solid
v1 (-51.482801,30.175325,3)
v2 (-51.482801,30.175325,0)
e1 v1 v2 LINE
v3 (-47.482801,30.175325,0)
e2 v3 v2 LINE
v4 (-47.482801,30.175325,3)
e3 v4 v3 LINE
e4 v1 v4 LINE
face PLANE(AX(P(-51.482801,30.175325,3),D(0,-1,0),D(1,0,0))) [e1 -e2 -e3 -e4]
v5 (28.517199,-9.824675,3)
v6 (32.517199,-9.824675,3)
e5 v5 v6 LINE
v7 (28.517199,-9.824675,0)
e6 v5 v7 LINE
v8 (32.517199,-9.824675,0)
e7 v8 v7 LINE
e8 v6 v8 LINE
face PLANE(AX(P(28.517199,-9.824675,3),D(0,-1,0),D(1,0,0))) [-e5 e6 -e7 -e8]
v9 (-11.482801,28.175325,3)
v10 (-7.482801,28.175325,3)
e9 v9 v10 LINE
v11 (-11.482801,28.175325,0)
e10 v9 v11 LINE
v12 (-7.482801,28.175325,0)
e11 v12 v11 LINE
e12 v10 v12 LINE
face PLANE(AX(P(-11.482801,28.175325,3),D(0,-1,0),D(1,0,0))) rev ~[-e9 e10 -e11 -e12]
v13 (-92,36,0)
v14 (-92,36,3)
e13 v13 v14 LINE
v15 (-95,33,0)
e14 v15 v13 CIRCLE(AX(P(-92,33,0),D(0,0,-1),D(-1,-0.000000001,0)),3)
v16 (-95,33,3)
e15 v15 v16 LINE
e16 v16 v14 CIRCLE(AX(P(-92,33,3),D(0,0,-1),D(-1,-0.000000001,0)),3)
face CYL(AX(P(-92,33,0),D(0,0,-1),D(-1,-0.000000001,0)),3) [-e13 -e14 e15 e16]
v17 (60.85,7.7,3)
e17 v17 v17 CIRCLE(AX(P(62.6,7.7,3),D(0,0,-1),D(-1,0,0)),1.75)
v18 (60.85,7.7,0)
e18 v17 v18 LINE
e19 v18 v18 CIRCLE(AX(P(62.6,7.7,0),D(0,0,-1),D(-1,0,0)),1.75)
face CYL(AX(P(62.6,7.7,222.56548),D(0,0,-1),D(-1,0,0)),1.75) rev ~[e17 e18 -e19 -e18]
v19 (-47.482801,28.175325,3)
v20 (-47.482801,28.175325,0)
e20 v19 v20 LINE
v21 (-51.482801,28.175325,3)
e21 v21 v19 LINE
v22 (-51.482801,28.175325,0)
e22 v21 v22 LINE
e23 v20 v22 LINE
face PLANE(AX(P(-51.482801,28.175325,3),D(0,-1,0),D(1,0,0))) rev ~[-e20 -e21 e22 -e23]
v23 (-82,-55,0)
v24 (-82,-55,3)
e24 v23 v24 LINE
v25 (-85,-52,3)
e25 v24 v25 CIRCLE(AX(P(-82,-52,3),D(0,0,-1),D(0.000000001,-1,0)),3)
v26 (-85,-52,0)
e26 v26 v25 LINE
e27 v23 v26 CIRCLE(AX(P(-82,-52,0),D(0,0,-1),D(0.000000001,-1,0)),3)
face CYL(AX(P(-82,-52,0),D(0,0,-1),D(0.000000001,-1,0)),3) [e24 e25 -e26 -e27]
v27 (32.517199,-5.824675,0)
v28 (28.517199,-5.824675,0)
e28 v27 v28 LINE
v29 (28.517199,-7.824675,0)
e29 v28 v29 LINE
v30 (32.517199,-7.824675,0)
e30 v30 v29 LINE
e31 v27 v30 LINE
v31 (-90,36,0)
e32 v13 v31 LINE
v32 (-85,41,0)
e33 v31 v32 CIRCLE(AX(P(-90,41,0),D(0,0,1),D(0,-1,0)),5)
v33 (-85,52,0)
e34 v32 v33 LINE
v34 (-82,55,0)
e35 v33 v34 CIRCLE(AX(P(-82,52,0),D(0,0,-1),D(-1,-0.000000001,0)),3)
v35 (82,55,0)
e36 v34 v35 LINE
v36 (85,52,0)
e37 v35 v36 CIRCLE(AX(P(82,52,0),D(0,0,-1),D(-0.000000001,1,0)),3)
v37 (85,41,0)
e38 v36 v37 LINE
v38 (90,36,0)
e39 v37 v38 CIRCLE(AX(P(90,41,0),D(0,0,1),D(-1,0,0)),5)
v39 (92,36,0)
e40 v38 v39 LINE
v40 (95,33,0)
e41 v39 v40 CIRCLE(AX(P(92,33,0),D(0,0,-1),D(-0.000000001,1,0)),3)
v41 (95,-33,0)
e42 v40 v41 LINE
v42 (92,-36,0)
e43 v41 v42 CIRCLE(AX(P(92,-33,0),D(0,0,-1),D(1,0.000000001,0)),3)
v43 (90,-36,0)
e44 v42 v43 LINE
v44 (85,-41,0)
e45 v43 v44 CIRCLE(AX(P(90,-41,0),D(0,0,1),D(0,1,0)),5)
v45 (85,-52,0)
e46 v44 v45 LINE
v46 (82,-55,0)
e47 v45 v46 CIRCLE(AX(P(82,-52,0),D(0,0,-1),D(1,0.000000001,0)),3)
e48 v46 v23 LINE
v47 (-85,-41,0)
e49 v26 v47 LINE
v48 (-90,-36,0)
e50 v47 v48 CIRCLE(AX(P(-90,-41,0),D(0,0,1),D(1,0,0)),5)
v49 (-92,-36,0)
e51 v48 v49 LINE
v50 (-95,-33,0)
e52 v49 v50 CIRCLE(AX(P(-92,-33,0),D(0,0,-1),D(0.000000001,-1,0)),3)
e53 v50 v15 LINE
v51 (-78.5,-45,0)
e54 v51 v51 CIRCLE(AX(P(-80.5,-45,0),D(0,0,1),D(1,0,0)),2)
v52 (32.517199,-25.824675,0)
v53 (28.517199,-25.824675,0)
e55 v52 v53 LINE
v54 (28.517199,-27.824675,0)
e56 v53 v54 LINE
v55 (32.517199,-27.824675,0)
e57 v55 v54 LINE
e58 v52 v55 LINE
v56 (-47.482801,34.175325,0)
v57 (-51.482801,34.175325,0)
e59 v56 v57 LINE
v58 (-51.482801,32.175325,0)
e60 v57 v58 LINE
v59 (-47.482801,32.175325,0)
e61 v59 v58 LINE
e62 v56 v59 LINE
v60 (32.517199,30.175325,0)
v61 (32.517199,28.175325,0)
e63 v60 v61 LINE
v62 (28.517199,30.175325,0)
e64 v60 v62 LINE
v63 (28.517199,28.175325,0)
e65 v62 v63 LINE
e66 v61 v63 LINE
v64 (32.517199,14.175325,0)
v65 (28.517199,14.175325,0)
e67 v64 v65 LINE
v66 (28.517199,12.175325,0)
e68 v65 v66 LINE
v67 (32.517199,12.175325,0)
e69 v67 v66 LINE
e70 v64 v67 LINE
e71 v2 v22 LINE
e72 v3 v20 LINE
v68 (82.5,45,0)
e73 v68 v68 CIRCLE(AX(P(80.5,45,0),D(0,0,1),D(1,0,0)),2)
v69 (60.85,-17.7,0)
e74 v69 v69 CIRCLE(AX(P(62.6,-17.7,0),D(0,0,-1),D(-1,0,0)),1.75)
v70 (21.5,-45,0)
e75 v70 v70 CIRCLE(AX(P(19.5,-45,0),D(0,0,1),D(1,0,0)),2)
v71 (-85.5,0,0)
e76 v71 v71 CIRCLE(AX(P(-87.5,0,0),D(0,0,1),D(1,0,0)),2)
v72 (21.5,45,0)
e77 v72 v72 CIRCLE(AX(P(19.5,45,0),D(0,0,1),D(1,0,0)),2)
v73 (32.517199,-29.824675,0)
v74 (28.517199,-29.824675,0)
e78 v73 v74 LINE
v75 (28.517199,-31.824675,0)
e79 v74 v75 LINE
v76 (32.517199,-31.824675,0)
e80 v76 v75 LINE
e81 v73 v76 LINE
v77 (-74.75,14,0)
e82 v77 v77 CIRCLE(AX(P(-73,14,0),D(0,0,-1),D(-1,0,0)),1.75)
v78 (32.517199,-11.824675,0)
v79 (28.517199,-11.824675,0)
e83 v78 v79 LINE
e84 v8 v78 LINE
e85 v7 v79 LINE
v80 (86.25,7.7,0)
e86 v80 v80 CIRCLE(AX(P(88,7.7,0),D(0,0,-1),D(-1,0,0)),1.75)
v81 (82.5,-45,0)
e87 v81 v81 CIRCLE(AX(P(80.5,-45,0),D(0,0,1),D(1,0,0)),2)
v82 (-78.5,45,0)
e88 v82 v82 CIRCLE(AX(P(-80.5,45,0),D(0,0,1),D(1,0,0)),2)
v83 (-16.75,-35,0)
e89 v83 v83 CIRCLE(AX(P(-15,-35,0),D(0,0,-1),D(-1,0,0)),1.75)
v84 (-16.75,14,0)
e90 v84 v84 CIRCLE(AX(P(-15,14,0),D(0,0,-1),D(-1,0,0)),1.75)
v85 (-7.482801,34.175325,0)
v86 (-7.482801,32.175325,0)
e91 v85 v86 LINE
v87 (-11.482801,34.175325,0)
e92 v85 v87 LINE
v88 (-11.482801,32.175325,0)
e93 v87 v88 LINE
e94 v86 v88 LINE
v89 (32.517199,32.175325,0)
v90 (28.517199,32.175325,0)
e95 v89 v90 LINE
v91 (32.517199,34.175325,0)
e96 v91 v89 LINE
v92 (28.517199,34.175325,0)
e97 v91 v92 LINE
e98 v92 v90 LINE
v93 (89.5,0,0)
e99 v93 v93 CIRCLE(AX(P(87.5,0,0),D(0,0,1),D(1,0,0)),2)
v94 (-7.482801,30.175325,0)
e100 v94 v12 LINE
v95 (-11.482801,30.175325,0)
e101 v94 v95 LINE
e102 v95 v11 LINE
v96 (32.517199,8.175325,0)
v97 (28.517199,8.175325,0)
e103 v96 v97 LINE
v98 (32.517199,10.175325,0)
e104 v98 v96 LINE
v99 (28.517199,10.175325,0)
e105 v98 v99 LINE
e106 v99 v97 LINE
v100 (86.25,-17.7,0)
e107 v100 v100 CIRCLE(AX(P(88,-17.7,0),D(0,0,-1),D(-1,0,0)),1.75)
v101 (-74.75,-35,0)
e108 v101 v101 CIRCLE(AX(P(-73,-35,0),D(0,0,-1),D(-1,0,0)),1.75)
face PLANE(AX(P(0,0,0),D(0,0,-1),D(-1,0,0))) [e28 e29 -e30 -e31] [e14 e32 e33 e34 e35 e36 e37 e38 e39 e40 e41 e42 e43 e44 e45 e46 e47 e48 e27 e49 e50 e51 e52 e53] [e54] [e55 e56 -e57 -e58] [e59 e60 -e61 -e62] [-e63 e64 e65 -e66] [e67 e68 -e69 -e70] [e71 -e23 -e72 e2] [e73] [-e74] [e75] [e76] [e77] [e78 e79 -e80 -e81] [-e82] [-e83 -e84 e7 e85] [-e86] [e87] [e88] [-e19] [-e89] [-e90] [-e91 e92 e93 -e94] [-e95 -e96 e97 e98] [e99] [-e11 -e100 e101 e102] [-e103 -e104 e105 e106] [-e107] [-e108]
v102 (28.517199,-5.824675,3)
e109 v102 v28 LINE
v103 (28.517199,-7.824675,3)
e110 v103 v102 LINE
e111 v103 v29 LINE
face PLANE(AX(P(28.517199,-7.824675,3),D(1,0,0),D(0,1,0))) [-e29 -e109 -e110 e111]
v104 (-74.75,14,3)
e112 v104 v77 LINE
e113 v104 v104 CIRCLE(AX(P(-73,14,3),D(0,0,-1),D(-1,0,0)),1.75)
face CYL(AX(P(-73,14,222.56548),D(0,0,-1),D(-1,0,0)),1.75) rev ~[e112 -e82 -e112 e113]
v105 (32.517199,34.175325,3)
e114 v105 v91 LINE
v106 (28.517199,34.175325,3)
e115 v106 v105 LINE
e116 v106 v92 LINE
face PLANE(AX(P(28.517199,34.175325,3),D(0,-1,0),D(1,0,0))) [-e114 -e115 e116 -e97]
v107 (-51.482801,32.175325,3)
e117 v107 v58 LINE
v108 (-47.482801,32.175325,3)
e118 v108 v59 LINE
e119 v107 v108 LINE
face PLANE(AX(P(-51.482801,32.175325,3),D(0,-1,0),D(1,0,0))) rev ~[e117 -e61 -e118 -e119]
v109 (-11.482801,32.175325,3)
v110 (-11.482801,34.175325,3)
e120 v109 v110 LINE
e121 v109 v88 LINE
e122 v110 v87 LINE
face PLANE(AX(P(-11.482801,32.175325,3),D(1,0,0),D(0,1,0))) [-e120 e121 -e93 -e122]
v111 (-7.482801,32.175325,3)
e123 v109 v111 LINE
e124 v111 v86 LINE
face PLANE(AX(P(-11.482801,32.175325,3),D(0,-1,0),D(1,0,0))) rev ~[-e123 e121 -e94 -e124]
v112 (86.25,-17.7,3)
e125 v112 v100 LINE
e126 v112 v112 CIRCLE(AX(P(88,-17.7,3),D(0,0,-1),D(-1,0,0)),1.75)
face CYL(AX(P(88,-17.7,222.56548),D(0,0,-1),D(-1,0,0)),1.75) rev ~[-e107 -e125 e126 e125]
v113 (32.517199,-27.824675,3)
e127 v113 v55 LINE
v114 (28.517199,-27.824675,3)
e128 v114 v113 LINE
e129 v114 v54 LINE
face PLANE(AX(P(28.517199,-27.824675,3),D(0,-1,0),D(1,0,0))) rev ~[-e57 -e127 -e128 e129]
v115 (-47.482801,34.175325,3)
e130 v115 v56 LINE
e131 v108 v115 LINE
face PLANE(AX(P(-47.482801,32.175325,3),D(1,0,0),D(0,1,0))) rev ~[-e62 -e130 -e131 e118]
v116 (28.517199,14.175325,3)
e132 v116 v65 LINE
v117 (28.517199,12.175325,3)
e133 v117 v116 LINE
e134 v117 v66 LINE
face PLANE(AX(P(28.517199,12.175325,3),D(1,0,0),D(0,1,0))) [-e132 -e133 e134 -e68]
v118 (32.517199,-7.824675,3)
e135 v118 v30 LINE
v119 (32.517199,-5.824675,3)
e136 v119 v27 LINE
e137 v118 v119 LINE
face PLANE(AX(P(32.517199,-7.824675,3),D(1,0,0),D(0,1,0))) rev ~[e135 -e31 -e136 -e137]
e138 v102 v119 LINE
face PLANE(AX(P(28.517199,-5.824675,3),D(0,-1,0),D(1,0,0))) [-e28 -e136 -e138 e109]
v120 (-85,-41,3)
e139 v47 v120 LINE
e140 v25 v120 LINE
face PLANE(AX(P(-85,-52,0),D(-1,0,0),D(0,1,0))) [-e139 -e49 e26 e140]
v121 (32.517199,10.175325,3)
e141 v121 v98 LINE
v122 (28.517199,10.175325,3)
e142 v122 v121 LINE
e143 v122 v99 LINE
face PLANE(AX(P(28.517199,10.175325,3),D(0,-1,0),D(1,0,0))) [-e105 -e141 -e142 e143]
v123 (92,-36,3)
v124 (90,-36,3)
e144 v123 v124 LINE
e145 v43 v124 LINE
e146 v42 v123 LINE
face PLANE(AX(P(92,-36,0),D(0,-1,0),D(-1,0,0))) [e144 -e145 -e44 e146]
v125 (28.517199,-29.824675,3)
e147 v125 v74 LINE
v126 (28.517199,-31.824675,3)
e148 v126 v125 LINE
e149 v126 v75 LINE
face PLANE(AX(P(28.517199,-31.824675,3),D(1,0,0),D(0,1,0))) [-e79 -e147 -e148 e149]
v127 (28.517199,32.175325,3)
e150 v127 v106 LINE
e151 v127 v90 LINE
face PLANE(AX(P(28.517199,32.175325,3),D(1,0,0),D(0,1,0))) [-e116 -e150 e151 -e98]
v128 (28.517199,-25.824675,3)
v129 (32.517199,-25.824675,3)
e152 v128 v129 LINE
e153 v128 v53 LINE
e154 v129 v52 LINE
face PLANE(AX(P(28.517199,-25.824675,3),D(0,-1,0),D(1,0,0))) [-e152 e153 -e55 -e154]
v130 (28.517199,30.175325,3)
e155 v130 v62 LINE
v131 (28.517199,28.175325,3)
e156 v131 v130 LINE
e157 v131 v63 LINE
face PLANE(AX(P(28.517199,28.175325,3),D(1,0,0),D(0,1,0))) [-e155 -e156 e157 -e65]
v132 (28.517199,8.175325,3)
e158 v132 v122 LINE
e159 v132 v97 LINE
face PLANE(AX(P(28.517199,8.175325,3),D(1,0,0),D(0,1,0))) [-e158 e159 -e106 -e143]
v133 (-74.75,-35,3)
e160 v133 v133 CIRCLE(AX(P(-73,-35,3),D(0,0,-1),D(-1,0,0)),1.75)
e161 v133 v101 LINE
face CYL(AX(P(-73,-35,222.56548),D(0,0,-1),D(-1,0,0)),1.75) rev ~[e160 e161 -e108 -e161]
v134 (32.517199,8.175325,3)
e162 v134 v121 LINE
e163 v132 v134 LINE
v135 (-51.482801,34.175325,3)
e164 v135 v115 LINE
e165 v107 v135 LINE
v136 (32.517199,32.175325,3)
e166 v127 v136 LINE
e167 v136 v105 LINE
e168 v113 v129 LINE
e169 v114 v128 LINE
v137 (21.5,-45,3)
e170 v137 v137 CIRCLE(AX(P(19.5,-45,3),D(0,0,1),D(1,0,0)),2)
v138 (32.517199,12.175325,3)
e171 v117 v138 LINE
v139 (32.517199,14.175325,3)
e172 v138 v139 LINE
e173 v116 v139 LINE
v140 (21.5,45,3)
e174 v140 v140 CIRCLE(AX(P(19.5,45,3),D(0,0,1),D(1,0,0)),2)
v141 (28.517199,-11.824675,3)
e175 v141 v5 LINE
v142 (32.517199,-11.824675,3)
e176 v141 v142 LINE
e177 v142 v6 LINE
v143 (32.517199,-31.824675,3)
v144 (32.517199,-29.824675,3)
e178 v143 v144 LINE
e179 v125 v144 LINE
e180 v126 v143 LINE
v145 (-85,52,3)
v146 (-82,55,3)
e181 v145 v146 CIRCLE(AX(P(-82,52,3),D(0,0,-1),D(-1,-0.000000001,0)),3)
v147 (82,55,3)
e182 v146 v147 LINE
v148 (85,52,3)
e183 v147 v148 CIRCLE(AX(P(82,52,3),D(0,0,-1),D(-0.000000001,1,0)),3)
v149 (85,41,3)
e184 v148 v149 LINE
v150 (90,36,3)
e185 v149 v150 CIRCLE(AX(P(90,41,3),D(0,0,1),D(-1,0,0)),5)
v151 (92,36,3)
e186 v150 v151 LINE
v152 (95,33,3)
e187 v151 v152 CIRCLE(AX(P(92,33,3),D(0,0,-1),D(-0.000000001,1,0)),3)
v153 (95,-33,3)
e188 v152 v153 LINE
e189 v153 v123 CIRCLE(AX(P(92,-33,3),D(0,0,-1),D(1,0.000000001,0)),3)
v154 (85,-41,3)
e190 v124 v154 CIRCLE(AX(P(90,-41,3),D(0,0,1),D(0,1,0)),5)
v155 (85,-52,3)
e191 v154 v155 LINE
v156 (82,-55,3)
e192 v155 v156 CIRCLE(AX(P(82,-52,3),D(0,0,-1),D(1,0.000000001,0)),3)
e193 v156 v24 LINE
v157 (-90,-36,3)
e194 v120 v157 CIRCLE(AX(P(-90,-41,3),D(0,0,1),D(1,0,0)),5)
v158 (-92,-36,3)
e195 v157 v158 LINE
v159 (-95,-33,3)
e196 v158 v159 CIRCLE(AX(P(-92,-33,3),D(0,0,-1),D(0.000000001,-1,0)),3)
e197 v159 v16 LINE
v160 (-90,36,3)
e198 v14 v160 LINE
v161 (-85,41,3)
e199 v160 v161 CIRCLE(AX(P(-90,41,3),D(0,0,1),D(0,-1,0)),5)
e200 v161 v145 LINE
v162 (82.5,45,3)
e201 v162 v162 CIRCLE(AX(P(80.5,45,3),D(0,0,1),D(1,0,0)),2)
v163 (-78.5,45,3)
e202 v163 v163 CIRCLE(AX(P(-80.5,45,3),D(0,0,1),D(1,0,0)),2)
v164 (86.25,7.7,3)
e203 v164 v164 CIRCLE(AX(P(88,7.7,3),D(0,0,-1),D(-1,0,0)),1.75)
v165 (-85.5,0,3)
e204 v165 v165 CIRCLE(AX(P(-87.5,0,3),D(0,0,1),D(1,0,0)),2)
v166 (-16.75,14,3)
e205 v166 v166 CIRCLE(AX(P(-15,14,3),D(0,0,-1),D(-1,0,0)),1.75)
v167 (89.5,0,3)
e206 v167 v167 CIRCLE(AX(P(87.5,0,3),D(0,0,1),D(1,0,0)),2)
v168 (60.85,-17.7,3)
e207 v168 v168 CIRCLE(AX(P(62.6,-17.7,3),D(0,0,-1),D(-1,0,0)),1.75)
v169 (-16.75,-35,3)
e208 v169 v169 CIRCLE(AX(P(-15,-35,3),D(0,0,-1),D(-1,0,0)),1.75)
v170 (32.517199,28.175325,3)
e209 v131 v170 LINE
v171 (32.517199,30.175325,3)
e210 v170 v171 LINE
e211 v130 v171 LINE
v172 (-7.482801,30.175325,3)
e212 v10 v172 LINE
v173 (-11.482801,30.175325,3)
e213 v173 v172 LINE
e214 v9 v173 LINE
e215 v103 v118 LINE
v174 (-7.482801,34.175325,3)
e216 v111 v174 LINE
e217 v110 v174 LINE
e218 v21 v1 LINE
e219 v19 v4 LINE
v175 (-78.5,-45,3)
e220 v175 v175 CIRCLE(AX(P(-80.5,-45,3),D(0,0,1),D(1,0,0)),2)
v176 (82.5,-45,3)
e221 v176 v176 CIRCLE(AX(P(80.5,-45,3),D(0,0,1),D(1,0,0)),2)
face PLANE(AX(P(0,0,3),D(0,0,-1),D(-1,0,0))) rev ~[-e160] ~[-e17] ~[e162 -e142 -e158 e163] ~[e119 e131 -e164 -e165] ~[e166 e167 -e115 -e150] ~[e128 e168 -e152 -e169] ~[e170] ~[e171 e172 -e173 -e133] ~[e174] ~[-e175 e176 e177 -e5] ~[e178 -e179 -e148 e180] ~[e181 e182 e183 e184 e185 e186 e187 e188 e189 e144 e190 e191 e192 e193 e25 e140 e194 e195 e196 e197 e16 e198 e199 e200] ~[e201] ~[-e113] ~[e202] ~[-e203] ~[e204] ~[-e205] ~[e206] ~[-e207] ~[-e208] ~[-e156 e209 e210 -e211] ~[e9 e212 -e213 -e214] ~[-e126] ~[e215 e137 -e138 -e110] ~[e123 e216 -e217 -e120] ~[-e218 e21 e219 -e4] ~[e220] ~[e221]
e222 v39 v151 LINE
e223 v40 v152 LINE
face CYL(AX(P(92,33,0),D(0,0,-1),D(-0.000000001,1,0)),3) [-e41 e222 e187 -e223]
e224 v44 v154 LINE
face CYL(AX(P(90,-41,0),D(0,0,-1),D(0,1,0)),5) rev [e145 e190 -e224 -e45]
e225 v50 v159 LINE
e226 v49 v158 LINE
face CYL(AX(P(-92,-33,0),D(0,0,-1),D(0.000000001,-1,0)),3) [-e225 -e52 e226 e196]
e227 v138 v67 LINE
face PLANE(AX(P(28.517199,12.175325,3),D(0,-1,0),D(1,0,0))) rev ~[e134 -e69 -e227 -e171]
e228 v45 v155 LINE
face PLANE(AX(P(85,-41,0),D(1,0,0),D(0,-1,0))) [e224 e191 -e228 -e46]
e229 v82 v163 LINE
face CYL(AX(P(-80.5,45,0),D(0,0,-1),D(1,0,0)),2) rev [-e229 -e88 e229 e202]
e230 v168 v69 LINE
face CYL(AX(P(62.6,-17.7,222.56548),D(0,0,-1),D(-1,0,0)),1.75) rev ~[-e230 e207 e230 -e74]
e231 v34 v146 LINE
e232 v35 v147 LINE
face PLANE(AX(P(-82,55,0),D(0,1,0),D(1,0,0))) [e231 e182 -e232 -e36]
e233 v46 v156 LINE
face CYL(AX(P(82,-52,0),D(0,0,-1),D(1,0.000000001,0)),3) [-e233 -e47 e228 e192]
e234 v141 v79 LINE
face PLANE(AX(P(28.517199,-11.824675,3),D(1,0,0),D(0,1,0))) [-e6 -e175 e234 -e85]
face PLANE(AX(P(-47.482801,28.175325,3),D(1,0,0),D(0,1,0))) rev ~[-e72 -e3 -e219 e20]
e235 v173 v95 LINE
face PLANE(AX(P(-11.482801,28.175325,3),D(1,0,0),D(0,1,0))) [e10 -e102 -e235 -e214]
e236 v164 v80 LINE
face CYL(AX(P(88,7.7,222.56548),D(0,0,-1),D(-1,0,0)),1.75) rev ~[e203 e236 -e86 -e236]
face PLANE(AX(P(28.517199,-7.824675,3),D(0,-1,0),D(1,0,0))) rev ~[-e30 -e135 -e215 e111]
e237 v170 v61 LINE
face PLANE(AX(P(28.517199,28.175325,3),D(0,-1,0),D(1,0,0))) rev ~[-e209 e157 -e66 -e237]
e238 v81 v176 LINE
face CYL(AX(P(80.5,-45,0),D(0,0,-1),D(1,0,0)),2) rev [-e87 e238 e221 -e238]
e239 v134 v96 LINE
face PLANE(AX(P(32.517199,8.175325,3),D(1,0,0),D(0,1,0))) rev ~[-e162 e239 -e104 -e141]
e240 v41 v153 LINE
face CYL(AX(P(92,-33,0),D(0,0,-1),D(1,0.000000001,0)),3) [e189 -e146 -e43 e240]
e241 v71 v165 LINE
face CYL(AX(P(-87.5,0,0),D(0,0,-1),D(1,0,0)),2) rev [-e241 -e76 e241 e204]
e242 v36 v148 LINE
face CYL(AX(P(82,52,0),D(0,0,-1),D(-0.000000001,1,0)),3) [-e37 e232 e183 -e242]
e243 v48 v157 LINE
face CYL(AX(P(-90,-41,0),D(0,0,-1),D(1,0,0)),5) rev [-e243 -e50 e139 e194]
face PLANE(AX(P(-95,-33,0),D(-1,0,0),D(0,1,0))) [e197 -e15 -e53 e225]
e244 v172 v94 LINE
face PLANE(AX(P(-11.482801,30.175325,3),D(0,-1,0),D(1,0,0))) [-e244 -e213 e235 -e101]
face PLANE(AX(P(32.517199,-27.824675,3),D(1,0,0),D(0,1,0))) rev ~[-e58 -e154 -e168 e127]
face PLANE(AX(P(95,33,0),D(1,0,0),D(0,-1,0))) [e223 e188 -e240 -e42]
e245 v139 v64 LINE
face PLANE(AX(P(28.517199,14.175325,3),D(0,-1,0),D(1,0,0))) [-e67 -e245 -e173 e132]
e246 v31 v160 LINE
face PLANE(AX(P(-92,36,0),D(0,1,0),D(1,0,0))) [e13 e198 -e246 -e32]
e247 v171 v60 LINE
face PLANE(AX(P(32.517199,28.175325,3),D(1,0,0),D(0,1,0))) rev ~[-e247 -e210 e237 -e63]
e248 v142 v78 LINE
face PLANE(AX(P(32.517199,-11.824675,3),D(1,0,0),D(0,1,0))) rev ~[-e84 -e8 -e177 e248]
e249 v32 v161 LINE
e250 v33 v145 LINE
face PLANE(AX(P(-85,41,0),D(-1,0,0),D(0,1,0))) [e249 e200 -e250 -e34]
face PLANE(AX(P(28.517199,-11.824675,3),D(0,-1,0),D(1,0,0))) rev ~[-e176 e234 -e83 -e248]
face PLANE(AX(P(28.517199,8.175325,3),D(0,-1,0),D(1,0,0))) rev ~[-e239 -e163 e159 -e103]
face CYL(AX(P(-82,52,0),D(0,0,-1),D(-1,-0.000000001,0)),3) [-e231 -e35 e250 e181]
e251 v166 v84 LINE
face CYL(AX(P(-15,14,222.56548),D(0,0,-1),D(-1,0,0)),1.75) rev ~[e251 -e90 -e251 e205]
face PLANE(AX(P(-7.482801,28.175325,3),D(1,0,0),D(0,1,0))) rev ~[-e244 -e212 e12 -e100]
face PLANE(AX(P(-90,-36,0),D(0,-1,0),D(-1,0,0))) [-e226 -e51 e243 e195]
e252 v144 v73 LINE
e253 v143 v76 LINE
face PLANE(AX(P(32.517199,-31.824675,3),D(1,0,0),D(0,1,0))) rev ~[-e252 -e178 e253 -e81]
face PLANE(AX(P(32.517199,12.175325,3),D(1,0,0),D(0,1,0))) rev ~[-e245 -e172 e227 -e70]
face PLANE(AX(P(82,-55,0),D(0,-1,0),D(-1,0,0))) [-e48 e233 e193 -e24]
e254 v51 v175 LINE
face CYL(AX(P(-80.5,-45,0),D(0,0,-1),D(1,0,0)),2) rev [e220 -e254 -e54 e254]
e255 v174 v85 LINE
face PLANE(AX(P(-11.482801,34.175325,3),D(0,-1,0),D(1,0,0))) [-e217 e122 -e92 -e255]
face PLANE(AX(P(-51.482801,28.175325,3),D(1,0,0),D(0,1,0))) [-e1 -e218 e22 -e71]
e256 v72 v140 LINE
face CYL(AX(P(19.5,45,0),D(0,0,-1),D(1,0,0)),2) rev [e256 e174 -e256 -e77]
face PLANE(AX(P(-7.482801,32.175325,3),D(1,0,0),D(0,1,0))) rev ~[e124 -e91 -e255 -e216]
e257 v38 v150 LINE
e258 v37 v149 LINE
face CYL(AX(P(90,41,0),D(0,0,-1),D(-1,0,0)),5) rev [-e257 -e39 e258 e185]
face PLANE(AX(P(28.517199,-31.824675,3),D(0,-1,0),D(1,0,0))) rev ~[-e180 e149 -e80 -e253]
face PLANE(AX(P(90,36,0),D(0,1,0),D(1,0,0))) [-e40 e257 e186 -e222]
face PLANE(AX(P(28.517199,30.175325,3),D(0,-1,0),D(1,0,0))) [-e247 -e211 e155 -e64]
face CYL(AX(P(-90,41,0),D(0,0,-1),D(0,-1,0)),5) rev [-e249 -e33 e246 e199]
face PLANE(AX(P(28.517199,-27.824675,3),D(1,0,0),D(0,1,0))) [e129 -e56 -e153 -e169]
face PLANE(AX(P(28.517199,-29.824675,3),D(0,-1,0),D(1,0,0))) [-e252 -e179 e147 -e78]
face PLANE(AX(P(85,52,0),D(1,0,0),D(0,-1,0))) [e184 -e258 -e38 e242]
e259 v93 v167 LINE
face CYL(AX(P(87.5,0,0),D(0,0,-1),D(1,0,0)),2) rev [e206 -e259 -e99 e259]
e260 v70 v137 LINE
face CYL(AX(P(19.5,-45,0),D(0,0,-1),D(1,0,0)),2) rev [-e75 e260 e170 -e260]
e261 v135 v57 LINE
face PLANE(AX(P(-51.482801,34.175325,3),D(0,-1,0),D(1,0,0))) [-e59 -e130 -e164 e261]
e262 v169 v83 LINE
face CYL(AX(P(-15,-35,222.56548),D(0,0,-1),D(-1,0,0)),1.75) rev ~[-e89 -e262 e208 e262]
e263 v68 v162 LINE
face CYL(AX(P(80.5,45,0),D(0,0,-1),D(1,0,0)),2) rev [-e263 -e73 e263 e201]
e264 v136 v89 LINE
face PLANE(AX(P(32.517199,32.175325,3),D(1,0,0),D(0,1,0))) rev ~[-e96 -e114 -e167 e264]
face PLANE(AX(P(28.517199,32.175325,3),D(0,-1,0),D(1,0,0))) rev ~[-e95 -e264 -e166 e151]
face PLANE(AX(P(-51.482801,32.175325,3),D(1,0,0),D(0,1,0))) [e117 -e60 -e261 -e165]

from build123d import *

# Parameters (mm, degrees)
SKETCH1_R                  = 2
BOSS_EXTRUDE1_DEPTH        = 3
F_3_5_3_5_DIAMETER_HOLE1_D = 3.5
SKETCH4_W                  = 4
SKETCH4_H                  = 2
CUT_EXTRUDE1_DEPTH         = 110.813478226


with BuildPart() as part:
    # Sketch1 → Boss-Extrude1 (new body)
    with BuildSketch(Plane.XY):
        with BuildLine():
            Line((-82, 55), (82, 55))
            ThreePointArc((82, 55), (84.121320344, 54.121320344), (85, 52))
            Line((85, 52), (85, 41))
            ThreePointArc((85, 41), (86.464466094, 37.464466094), (90, 36))
            Line((90, 36), (92, 36))
            ThreePointArc((92, 36), (94.121320344, 35.121320344), (95, 33))
            Line((95, 33), (95, -33))
            ThreePointArc((95, -33), (94.121320344, -35.121320344), (92, -36))
            Line((92, -36), (90, -36))
            ThreePointArc((90, -36), (86.464466094, -37.464466094), (85, -41))
            Line((85, -41), (85, -52))
            ThreePointArc((85, -52), (84.121320344, -54.121320344), (82, -55))
            Line((82, -55), (-82, -55))
            ThreePointArc((-82, -55), (-84.121320344, -54.121320344), (-85, -52))
            Line((-85, -52), (-85, -41))
            ThreePointArc((-85, -41), (-86.464466094, -37.464466094), (-90, -36))
            Line((-90, -36), (-92, -36))
            ThreePointArc((-92, -36), (-94.121320344, -35.121320344), (-95, -33))
            Line((-95, -33), (-95, 33))
            ThreePointArc((-95, 33), (-94.121320344, 35.121320344), (-92, 36))
            Line((-92, 36), (-90, 36))
            ThreePointArc((-90, 36), (-86.464466094, 37.464466094), (-85, 41))
            Line((-85, 41), (-85, 52))
            ThreePointArc((-85, 52), (-84.121320344, 54.121320344), (-82, 55))
        make_face()
        with Locations((-80.5, 45)):
            Circle(SKETCH1_R, mode=Mode.SUBTRACT)
        with Locations((19.5, 45)):
            Circle(SKETCH1_R, mode=Mode.SUBTRACT)
        with Locations((80.5, 45)):
            Circle(SKETCH1_R, mode=Mode.SUBTRACT)
        with Locations((-80.5, -45)):
            Circle(SKETCH1_R, mode=Mode.SUBTRACT)
        with Locations((-87.5, 0)):
            Circle(SKETCH1_R, mode=Mode.SUBTRACT)
        with Locations((87.5, 0)):
            Circle(SKETCH1_R, mode=Mode.SUBTRACT)
        with Locations((19.5, -45)):
            Circle(SKETCH1_R, mode=Mode.SUBTRACT)
        with Locations((80.5, -45)):
            Circle(SKETCH1_R, mode=Mode.SUBTRACT)
    extrude(amount=BOSS_EXTRUDE1_DEPTH)

    # Ø3.5 (3.5) Diameter Hole1 (through all)
    with Locations(Plane.XY.offset(3)):
        with Locations((88, 7.7), (88, -17.7), (62.6, -17.7), (62.6, 7.7), (-73, 14), (-15, 14), (-15, -35), (-73, -35)):
            Hole(F_3_5_3_5_DIAMETER_HOLE1_D / 2)

    # Sketch4 → Cut-Extrude1 (cut, through all)
    with BuildSketch(Plane.XY.offset(3)):
        with Locations((-9.482801071, 33.175325002)):
            Rectangle(SKETCH4_W, SKETCH4_H)
        with Locations((-49.482801071, 33.175325002)):
            Rectangle(SKETCH4_W, SKETCH4_H)
        with Locations((-49.482801071, 29.175325002)):
            Rectangle(SKETCH4_W, SKETCH4_H)
        with Locations((-9.482801071, 29.175325002)):
            Rectangle(SKETCH4_W, SKETCH4_H)
        with Locations((30.517198929, 33.175325002)):
            Rectangle(SKETCH4_W, SKETCH4_H)
        with Locations((30.517198929, 29.175325002)):
            Rectangle(SKETCH4_W, SKETCH4_H)
        with Locations((30.517198929, 13.175325002)):
            Rectangle(SKETCH4_W, SKETCH4_H)
        with Locations((30.517198929, 9.175325002)):
            Rectangle(SKETCH4_W, SKETCH4_H)
        with Locations((30.517198929, -6.824674998)):
            Rectangle(SKETCH4_W, SKETCH4_H)
        with Locations((30.517198929, -10.824674998)):
            Rectangle(SKETCH4_W, SKETCH4_H)
        with Locations((30.517198929, -26.824674998)):
            Rectangle(SKETCH4_W, SKETCH4_H)
        with Locations((30.517198929, -30.824674998)):
            Rectangle(SKETCH4_W, SKETCH4_H)
    extrude(amount=-CUT_EXTRUDE1_DEPTH, mode=Mode.SUBTRACT)


solid = part.part
